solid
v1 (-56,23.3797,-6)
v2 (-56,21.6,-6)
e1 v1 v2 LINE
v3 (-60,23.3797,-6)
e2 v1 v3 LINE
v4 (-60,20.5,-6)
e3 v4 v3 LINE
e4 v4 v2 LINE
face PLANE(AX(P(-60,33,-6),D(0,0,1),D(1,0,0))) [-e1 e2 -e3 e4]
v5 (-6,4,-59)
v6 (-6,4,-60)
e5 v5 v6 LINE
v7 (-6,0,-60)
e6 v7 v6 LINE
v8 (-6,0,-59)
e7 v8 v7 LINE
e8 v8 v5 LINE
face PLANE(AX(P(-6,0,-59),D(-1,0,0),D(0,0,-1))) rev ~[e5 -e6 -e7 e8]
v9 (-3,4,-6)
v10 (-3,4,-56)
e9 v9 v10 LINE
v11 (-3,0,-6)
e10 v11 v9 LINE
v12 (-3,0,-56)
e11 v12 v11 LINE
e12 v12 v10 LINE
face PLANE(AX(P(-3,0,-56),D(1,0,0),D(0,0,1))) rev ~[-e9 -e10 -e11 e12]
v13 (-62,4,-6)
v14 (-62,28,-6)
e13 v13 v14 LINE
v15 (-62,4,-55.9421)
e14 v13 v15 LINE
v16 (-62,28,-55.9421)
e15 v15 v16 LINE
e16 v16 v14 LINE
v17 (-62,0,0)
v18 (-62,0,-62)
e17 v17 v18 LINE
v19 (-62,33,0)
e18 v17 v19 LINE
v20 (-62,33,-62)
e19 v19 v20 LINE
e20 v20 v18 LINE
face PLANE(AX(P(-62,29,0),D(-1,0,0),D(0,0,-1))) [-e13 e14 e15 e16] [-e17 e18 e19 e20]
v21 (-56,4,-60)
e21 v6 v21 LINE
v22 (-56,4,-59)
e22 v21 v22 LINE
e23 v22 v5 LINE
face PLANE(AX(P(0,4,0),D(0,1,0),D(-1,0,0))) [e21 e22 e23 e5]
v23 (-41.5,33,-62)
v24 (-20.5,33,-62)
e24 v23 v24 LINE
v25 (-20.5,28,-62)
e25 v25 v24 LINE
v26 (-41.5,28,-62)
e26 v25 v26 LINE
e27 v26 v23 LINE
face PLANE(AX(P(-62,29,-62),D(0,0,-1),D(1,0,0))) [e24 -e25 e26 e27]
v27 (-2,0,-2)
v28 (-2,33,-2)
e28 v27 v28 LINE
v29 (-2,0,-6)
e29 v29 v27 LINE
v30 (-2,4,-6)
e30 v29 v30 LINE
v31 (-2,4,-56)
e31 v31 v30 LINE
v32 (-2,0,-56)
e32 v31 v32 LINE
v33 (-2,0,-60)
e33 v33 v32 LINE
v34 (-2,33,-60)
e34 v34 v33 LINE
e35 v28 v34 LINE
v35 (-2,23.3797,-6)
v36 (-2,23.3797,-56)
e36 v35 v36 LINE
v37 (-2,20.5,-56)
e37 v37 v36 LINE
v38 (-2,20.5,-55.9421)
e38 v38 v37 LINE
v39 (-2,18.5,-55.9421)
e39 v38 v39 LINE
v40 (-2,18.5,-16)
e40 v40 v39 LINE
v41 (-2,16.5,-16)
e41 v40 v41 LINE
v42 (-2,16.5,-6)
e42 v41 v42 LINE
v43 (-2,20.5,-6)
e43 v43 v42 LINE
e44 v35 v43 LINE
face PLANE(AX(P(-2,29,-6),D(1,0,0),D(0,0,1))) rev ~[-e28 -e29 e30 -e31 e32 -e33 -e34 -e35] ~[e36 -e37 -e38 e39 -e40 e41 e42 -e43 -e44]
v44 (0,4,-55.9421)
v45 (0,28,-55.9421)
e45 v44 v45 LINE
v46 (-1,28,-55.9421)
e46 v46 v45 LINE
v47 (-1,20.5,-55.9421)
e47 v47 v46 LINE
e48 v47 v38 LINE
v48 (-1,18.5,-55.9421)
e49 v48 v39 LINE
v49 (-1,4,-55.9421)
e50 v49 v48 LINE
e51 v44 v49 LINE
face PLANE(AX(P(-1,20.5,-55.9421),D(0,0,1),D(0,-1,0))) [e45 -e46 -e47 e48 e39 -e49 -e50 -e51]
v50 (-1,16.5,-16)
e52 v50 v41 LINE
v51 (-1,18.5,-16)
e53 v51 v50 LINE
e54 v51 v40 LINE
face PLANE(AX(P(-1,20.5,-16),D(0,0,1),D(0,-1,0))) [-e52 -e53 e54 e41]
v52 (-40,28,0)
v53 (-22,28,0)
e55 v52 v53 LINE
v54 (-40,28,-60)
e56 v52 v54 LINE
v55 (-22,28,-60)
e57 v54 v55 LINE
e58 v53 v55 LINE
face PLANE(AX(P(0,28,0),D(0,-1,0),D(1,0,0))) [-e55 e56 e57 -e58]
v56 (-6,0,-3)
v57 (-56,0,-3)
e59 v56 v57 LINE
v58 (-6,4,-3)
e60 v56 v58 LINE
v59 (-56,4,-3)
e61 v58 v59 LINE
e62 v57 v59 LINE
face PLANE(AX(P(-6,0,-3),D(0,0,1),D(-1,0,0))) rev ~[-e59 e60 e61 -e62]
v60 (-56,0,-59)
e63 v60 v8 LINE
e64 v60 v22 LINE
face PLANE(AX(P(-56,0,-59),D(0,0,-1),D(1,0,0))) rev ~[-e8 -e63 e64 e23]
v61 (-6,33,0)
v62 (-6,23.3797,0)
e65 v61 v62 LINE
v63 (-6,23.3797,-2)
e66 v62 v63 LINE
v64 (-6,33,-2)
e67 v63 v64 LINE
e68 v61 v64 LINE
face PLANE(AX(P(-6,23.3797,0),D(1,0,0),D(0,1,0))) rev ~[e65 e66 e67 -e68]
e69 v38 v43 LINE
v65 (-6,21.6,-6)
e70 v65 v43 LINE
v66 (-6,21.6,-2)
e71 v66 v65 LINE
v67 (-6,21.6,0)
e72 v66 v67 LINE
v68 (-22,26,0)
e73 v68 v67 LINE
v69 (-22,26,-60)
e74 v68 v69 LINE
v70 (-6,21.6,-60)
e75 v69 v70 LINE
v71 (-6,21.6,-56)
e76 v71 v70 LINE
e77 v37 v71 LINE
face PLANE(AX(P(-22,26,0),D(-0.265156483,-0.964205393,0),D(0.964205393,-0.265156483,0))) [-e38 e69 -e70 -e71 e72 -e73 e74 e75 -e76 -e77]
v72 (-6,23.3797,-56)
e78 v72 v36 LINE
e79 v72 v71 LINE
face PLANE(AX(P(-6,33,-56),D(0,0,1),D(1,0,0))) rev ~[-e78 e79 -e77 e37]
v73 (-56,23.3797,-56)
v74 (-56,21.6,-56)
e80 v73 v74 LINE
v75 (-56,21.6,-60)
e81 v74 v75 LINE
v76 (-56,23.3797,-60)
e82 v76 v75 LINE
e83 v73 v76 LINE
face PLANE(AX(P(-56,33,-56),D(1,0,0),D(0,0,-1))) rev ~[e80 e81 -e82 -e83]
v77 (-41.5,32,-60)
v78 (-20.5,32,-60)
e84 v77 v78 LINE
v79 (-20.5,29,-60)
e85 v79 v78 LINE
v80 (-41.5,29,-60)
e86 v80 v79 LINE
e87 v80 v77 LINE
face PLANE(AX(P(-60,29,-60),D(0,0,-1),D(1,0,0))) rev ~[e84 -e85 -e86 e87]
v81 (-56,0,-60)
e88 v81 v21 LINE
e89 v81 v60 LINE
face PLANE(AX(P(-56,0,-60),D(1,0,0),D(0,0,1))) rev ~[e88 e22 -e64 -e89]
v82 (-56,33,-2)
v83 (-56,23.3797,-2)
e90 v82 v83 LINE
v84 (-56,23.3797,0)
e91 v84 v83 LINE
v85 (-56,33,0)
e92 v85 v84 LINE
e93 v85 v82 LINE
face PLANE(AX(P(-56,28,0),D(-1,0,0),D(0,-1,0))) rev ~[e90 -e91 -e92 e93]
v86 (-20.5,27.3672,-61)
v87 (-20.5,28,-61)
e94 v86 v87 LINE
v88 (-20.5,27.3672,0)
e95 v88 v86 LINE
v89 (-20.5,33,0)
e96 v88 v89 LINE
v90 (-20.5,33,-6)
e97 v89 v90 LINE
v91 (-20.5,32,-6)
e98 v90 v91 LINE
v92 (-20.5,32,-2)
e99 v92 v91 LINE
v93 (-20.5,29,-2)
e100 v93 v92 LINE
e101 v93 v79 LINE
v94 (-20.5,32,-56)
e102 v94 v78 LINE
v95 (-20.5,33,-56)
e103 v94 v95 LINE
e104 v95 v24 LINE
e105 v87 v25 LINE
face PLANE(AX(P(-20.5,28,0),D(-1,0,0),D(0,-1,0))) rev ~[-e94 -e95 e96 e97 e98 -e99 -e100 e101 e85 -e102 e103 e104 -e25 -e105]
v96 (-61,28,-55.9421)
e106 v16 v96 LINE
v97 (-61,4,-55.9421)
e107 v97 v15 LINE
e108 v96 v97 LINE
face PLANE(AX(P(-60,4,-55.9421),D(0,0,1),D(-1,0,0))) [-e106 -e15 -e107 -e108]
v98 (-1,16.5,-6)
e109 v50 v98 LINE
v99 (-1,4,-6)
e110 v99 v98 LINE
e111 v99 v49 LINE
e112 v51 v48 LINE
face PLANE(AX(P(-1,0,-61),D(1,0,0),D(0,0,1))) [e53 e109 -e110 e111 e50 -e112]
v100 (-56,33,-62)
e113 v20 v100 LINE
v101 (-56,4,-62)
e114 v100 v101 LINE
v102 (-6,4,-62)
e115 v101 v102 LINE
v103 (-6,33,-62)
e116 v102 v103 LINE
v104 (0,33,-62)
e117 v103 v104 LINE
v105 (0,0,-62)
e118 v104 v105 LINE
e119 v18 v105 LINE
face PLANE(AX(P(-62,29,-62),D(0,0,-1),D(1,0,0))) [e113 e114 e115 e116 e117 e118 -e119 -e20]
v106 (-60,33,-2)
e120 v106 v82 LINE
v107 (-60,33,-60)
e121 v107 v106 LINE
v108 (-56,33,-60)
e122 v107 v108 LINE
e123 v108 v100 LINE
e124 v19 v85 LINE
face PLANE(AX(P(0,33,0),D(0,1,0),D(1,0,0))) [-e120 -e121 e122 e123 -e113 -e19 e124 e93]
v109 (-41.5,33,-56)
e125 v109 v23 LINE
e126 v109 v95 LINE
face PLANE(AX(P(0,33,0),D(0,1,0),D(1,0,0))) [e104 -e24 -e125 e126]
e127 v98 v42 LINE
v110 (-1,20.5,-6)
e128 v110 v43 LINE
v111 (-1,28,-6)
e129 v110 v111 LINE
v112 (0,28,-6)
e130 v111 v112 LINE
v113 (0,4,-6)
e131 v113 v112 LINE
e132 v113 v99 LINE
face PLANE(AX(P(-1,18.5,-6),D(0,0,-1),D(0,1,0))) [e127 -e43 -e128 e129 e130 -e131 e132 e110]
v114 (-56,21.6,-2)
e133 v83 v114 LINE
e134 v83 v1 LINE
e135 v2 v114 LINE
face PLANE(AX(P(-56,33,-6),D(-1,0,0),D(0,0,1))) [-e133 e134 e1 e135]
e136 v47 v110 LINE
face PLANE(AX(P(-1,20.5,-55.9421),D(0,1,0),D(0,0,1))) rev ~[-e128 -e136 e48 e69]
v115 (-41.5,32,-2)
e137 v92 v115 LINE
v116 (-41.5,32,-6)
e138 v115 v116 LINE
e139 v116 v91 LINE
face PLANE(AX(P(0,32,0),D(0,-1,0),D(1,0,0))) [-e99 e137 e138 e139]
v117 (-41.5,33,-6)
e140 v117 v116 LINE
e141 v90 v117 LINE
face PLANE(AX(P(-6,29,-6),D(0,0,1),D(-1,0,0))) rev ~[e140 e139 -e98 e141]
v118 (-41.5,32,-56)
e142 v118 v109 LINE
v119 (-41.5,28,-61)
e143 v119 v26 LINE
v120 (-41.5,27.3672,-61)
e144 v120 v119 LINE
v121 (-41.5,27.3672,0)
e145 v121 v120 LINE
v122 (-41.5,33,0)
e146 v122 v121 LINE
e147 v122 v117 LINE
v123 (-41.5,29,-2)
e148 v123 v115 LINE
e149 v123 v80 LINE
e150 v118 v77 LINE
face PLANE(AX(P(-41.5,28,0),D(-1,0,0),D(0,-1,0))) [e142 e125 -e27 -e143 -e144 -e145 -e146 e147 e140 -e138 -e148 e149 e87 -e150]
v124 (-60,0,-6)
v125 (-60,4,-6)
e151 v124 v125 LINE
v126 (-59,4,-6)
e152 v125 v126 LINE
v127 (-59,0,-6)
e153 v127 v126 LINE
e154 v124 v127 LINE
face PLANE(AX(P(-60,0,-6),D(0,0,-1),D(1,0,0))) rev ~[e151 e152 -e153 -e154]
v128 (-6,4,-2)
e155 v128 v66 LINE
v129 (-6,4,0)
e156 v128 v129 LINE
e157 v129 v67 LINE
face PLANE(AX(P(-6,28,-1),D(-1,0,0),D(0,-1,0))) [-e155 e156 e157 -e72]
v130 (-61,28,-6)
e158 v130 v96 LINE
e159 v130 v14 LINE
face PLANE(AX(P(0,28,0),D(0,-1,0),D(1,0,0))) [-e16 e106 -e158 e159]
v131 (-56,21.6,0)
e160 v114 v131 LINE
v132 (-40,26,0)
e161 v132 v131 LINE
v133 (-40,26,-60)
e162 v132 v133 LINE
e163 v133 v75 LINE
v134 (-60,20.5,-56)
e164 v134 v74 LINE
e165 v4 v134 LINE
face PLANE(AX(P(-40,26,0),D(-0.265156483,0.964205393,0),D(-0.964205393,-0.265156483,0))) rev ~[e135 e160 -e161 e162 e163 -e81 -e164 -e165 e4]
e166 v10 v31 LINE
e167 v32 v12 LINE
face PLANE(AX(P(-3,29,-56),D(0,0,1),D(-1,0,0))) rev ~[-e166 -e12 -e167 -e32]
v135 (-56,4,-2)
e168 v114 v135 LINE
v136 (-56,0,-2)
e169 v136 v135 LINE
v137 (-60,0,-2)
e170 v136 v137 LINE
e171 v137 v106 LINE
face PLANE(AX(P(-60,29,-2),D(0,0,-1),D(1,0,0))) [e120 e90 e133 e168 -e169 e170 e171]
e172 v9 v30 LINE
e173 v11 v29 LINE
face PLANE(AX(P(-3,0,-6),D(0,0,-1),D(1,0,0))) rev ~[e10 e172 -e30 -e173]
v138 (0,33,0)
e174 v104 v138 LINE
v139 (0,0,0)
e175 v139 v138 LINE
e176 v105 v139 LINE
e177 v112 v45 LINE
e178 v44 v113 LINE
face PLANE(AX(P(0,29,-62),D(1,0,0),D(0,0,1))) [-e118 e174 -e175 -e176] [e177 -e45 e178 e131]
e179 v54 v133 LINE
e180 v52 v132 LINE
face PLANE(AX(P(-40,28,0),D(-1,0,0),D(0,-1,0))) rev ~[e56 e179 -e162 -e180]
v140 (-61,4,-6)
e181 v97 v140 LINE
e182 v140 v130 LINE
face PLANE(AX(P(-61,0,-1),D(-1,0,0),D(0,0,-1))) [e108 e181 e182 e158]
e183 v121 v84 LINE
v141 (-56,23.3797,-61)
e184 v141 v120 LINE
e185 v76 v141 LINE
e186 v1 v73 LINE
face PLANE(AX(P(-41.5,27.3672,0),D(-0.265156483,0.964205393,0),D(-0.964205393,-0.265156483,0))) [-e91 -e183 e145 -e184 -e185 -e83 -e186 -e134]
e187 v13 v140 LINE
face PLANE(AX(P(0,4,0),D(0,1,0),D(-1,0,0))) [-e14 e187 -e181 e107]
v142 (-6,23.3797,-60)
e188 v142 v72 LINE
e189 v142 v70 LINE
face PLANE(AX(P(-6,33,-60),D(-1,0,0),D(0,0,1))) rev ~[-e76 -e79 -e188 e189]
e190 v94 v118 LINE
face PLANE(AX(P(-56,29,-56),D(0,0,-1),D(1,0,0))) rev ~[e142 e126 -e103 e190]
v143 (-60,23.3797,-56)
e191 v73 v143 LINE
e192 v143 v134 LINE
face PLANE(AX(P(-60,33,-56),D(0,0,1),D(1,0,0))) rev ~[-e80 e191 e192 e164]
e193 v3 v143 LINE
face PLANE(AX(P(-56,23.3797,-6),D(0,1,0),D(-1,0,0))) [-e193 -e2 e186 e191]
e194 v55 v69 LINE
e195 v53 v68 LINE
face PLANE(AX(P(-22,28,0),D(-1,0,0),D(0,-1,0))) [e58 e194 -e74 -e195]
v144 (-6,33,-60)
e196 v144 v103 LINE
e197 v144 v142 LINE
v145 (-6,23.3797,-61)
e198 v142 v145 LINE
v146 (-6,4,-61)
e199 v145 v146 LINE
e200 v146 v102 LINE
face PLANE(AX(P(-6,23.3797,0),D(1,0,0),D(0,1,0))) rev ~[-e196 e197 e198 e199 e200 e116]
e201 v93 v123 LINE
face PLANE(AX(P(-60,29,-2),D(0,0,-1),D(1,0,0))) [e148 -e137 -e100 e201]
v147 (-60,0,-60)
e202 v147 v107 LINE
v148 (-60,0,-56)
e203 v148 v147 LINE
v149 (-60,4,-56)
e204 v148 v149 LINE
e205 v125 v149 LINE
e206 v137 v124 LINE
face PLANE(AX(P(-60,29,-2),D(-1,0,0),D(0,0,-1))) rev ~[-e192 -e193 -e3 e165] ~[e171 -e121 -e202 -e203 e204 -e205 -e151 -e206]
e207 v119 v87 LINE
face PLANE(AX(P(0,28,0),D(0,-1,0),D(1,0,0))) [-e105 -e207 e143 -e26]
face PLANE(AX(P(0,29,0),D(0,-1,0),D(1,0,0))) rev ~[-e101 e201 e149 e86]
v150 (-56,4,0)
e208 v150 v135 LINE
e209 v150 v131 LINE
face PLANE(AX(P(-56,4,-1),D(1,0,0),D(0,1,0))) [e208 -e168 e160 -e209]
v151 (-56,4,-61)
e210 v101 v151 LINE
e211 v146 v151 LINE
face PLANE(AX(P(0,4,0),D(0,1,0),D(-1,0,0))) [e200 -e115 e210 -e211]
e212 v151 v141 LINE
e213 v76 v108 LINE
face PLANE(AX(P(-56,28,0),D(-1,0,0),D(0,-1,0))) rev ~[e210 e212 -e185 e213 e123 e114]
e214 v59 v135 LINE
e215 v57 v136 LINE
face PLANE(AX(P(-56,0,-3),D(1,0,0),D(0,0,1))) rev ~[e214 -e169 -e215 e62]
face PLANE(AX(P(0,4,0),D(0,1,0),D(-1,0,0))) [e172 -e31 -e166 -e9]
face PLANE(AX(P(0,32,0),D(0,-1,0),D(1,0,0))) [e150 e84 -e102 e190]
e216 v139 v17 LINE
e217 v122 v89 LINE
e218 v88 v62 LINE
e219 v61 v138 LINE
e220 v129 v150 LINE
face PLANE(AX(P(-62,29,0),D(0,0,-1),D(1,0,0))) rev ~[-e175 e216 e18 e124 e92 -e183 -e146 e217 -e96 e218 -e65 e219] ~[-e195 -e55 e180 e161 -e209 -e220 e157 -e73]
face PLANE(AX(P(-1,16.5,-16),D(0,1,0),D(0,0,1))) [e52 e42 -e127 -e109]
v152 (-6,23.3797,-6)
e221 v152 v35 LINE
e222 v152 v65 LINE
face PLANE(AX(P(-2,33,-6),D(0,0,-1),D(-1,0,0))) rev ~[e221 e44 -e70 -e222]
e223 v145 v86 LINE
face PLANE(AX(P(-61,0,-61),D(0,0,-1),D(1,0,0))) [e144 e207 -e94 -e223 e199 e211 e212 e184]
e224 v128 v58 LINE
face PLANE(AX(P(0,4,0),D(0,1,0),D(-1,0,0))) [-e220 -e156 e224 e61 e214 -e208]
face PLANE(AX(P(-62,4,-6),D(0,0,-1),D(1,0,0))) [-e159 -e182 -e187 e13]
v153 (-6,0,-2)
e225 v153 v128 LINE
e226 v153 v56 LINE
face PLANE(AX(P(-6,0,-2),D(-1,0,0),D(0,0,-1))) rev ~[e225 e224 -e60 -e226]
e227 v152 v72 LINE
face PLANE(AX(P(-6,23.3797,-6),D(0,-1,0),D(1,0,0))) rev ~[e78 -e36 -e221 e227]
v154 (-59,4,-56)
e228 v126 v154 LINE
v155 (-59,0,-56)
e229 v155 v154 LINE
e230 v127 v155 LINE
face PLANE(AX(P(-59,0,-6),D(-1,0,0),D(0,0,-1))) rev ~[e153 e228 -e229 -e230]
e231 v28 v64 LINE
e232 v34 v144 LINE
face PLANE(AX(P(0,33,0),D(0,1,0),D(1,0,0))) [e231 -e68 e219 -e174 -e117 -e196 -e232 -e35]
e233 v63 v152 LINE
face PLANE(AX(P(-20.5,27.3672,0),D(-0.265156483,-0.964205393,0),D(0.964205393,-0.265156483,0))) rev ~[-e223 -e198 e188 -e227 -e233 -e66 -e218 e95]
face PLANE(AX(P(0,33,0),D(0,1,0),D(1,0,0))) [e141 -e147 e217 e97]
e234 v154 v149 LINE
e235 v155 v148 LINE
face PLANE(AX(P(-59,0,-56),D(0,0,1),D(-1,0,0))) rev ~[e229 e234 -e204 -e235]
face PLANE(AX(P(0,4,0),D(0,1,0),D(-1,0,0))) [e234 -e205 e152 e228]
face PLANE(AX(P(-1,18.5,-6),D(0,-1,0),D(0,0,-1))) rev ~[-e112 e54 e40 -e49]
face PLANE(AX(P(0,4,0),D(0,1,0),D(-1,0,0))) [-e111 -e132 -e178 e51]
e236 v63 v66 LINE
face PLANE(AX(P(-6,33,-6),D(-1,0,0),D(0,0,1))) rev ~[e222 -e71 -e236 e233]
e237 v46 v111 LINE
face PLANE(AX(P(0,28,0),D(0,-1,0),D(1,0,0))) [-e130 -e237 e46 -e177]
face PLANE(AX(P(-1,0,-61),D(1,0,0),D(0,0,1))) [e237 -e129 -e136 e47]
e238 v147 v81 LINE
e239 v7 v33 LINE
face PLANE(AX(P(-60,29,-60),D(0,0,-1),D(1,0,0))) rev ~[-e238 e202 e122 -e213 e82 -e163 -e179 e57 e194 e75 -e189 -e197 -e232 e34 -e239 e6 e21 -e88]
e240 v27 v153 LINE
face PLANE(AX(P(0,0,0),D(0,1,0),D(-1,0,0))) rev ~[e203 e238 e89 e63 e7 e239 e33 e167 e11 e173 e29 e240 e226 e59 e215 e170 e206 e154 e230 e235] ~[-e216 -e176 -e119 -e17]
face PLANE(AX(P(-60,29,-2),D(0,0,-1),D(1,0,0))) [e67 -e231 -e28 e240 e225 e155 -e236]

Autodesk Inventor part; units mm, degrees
ref_plane "YZ Plane" through (0, 0, 0) normal (1, 0, 0) x (0, 1, 0)
ref_plane "XZ Plane" through (0, 0, 0) normal (0, 1, 0) x (-1, 0, 0)
ref_plane "XY Plane" through (0, 0, 0) normal (0, 0, 1) x (1, 0, 0)
sketch "Skizze1" plane through (0, 0, 0) normal (0, 1, 0) x (-1, 0, 0)
  line L0 (0, 0) -> (62, 0)
  line L1 (62, 0) -> (62, -62)
  line L2 (62, -62) -> (0, -62)
  line L3 (0, -62) -> (0, 0)
  line L4 (2, -2) -> (6, -2)
  line L5 (6, -2) -> (6, -6)
  line L6 (6, -6) -> (2, -6)
  line L7 (2, -6) -> (2, -2)
  line L8 (2, -56) -> (6, -56)
  line L9 (6, -56) -> (6, -60)
  line L10 (6, -60) -> (2, -60)
  line L11 (2, -60) -> (2, -56)
  line L12 (56, -2) -> (60, -2)
  line L13 (60, -2) -> (60, -6)
  line L14 (60, -6) -> (56, -6)
  line L15 (56, -6) -> (56, -2)
  line L16 (56, -56) -> (60, -56)
  line L17 (60, -56) -> (60, -60)
  line L18 (60, -60) -> (56, -60)
  line L19 (56, -60) -> (56, -56)
  line L20 (3, -3) -> (59, -3)
  line L21 (59, -3) -> (59, -59)
  line L22 (59, -59) -> (3, -59)
  line L23 (3, -59) -> (3, -3)
  point P0 (2, -58)
  point P1 (6, -3)
  point P2 (56, -3)
  point P3 (59, -6)
  point P4 (59, -56)
  point P5 (56, -59)
  point P6 (6, -59)
  point P7 (3, -56)
  point P8 (3, -6)
  dimension "d0" = 62
  dimension "d1" = 62
  dimension "d2" = 4
  dimension "d3" = 4
  dimension "d4" = 4
  dimension "d5" = 4
  dimension "d6" = 4
  dimension "d7" = 50
  dimension "d8" = 50
  dimension "d9" = 2
  dimension "d10" = 2
  dimension "d11" = 2
  dimension "d12" = 56
  dimension "d13" = 56
extrude "Extrusion1" add sketch "Skizze1" along normal blind 4
sketch "Skizze2" plane through (0, 4, 0) normal (0, 1, 0) x (1, 0, 0)
  line L0 (-2, 2) -> (-6, 2) projected
  line L1 (-3, 6) -> (-2, 6) projected
  line L2 (-6, 2) -> (-2, 2)
  line L3 (-2, 2) -> (-2, 6)
  line L4 (-2, 6) -> (-6, 6)
  line L5 (-6, 6) -> (-6, 2)
  line L6 (-62, 0) -> (0, 0) projected
  line L7 (0, 0) -> (0, 62) projected
  line L8 (-6, 0) -> (0, 0)
  line L9 (0, 0) -> (0, 6)
  line L10 (0, 6) -> (-6, 6)
  line L11 (-6, 6) -> (-6, 0)
  line L12 (0, 62) -> (-62, 62) projected
  line L13 (0, 55.9421) -> (-6, 55.9421)
  line L14 (-6, 55.9421) -> (-6, 62)
  line L15 (-6, 62) -> (0, 62)
  line L16 (0, 62) -> (0, 55.9421)
  line L17 (-6, 59) -> (-6, 60) projected
  line L18 (-6, 60) -> (-2, 60)
  line L19 (-2, 60) -> (-2, 56)
  line L20 (-2, 56) -> (-6, 56)
  line L21 (-6, 56) -> (-6, 60)
  line L22 (-62, 62) -> (-56, 62)
  line L23 (-56, 62) -> (-56, 55.9421)
  line L24 (-56, 55.9421) -> (-62, 55.9421)
  line L25 (-62, 55.9421) -> (-62, 62)
  line L26 (-60, 60) -> (-56, 60) projected
  line L27 (-60, 60) -> (-56, 60)
  line L28 (-56, 60) -> (-56, 55.9421)
  line L29 (-56, 55.9421) -> (-60, 55.9421)
  line L30 (-60, 55.9421) -> (-60, 60)
  line L31 (-62, 62) -> (-62, 0) projected
  line L32 (-62, 6) -> (-56, 6)
  line L33 (-56, 6) -> (-56, 0)
  line L34 (-56, 0) -> (-62, 0)
  line L35 (-62, 0) -> (-62, 6)
  line L36 (-56, 2) -> (-60, 2)
  line L37 (-60, 2) -> (-60, 6)
  line L38 (-60, 6) -> (-56, 6)
  line L39 (-56, 6) -> (-56, 2)
extrude "Extrusion2" add sketch "Skizze2" along normal blind 25 contours L3 L10 L7 L6 L11 L0 | L6 L31 L32 L37 L36 L33 | L13 L14 L20 L19 L18 L12 L7 | L25 L12 L23 L26 L30 L24
sketch "Skizze3" plane through (0, 29, 0) normal (0, 1, 0) x (1, 0, 0)
  line L0 (-62, 0) -> (0, 0) projected
  line L1 (0, 0) -> (-62, 0)
  line L2 (-62, 0) -> (-62, 62)
  line L3 (-62, 62) -> (0, 62)
  line L4 (0, 62) -> (0, 0)
  line L5 (-6, 6) -> (-56, 6)
  line L6 (-56, 6) -> (-56, 56)
  line L7 (-56, 56) -> (-6, 56)
  line L8 (-6, 56) -> (-6, 6)
  line L9 (-60, 2) -> (-60, 6) projected
  line L10 (-56, 6) -> (-60, 6)
  line L11 (-60, 6) -> (-60, 2)
  line L12 (-60, 2) -> (-56, 2)
  line L13 (-56, 2) -> (-56, 6)
  line L14 (-60, 60) -> (-56, 60) projected
  line L15 (-56, 56) -> (-60, 56)
  line L16 (-60, 56) -> (-60, 60)
  line L17 (-60, 60) -> (-56, 60)
  line L18 (-56, 60) -> (-56, 56)
  line L19 (-3, 56) -> (-6, 56) projected
  line L20 (-2, 60) -> (-2, 56) projected
  line L21 (-6, 56) -> (-2, 56)
  line L22 (-2, 56) -> (-2, 60)
  line L23 (-2, 60) -> (-6, 60)
  line L24 (-6, 60) -> (-6, 56)
  line L25 (-2, 2) -> (-6, 2) projected
  line L26 (-6, 6) -> (-2, 6)
  line L27 (-2, 6) -> (-2, 2)
  line L28 (-2, 2) -> (-6, 2)
  line L29 (-6, 2) -> (-6, 6)
  dimension "d18" = 50
  dimension "d19" = 50
extrude "Extrusion3" add sketch "Skizze3" along normal blind 4
sketch "Skizze4" plane through (0, 29, 0) normal (0, -1, 0) x (1, 0, 0)
  line L0 (-6, -6) -> (-56, -6) projected
  line L1 (-6, -6) -> (-2, -6)
  line L2 (-2, -6) -> (-2, -56)
  line L3 (-2, -56) -> (-6, -56)
  line L4 (-6, -56) -> (-6, -6)
  line L5 (-6, -56) -> (-56, -56)
  line L6 (-56, -56) -> (-56, -60)
  line L7 (-56, -60) -> (-6, -60)
  line L8 (-6, -60) -> (-6, -56)
  line L9 (-56, -6) -> (-56, -2) projected
  line L10 (-56, -6) -> (-6, -6)
  line L11 (-6, -6) -> (-6, -2)
  line L12 (-6, -2) -> (-56, -2)
  line L13 (-56, -2) -> (-56, -6)
  line L14 (-60, -6) -> (-56, -6) projected
  line L15 (-56, -6) -> (-60, -6)
  line L16 (-60, -6) -> (-60, -56)
  line L17 (-60, -56) -> (-56, -56)
  line L18 (-56, -56) -> (-56, -6)
  point P0 (0, 0)
  dimension "d22" = 4
  dimension "d23" = 50
  dimension "d24" = 50
  dimension "d25" = 4
  dimension "d26" = 50
  dimension "d27" = 4
  dimension "d28" = 4
  dimension "d29" = 50
extrude "Extrusion4" cut sketch "Skizze4" against normal blind 2 contours L1 L2 L3 L4 | L0 L9 L12 L11 | L18 L17 L16 L14 | L8 L7 L6 L5
sketch "Skizze5" plane through (0, 31, 0) normal (0, -1, 0) x (1, 0, 0)
  line L0 (-59, -59) -> (-3, -59)
  line L1 (-3, -59) -> (-3, -3)
  line L2 (-59, -3) -> (-59, -59)
  line L3 (-57.5, -4.5) -> (-57.5, -57.5)
  line L4 (-57.5, -57.5) -> (-4.5, -57.5)
  line L5 (-4.5, -57.5) -> (-4.5, -4.5)
  line L6 (-62, 0) -> (0, 0) projected
  line L7 (0, 0) -> (0, -62) projected
  line L8 (-60, -60) -> (-56, -60) projected
  line L9 (-2, -6) -> (-2, -2) projected
  line L10 (-60, -60) -> (-2, -60)
  line L11 (-2, -60) -> (-2, -2)
  line L12 (-2, -2) -> (-60, -2)
  line L13 (-60, -2) -> (-60, -60)
  dimension "d32" = 56
  dimension "d33" = 56
  dimension "d34" = 53
  dimension "d35" = 53
  dimension "d36" = 1.5
  dimension "d39" = 3
extrude "Extrusion5" cut sketch "Skizze5" against normal blind 1
sketch "Skizze6" plane through (0, 32, 0) normal (0, -1, 0) x (1, 0, 0)
  line L0 (-60, -6) -> (-56, -6) projected
  line L1 (-56, -6) -> (-52, -6)
  line L2 (-6, -6) -> (-56, -6) projected
  line L3 (-52, -6) -> (-56, -10)
  line L4 (-56, -6) -> (-56, -56) projected
  line L5 (-56, -10) -> (-56, -6)
  line L6 (-6, -56) -> (-6, -6) projected
  line L7 (-6, -6) -> (-10, -6)
  line L8 (-6, -6) -> (-2, -6) construction
  line L9 (-10, -6) -> (-6, -10)
  line L10 (-6, -10) -> (-6, -6)
  line L11 (-6, -56) -> (-6, -60) projected
  line L12 (-6, -56) -> (-6, -52)
  line L13 (-6, -52) -> (-10, -56)
  line L14 (-56, -56) -> (-6, -56) projected
  line L15 (-56, -56) -> (-52, -56)
  line L16 (-56, -52) -> (-52, -56)
  line L17 (-56, -52) -> (-56, -56)
  point P0 (0, 0)
  dimension "d42" = 4
  dimension "d43" = 45
  dimension "d44" = 4
  dimension "d45" = 180
extrude "Extrusion6" add sketch "Skizze6" against normal blind 1 contours L1 L3 L4 | L2 L6 L9 | L16 L14 L4 | L6 L14 L13
sketch "Skizze7" plane through (-6, 4, -55.9421) normal (0, 0, 1) x (1, 0, 0)
  line L0 (3, 0) -> (0, 0) projected
  line L1 (0, 0) -> (4, 0)
  line L2 (4, 0) -> (4, 25)
  line L3 (4, 25) -> (0, 25)
  line L4 (0, 25) -> (0, 0)
  point P0 (6, -4)
extrude "Extrusion7" cut sketch "Skizze7" against normal blind 1
sketch "Skizze10" plane through (0, 29, 0) normal (0, -1, 0) x (1, 0, 0)
  line L0 (-2, -6) -> (-2, -55.9421) projected
  line L1 (-6, -6) -> (-2, -6) projected
  line L2 (-2, -6) -> (-6, -6)
  line L3 (-6, -2) -> (-6, -6) projected
  line L4 (-6, -6) -> (-6, -2)
  line L5 (-56, -3) -> (-56, -2) projected
  line L6 (-6, -2) -> (-56, -2)
  line L7 (-56, -6) -> (-56, -2) projected
  line L8 (-56, -2) -> (-56, -6)
  line L9 (-60, -6) -> (-56, -6) projected
  line L10 (-56, -6) -> (-60, -6)
  line L11 (-60, -56) -> (-60, -60) projected
  line L12 (-60, -6) -> (-60, -56)
  line L13 (-56, -56) -> (-60, -56) projected
  line L14 (-60, -56) -> (-56, -56)
  line L15 (-56, -60) -> (-56, -56) projected
  line L16 (-56, -56) -> (-56, -60)
  line L17 (-6, -59) -> (-6, -60) projected
  line L18 (-56, -60) -> (-6, -60)
  line L19 (-6, -56) -> (-6, -60) projected
  line L20 (-6, -60) -> (-6, -56)
  line L21 (-3, -56) -> (-2, -56) projected
  line L22 (-6, -56) -> (-2, -56)
  line L23 (-2, -56) -> (-2, -6)
  line L24 (0, -6) -> (0, -55.9421) projected
  line L25 (-2, -6) -> (0, -6)
  line L26 (0, -6) -> (0, -56)
  line L27 (0, -56) -> (-2, -56)
  line L28 (-6, -62) -> (-56, -62) projected
  line L29 (-6, -60) -> (-6, -62)
  line L30 (-6, -62) -> (-56, -62)
  line L31 (-56, -62) -> (-56, -60)
  line L32 (-56, 0) -> (-6, 0) projected
  line L33 (-56, -2) -> (-56, 0)
  line L34 (-56, 0) -> (-6, 0)
  line L35 (-6, -2) -> (-6, 0) projected
  line L36 (-6, 0) -> (-6, -2)
  line L37 (-60, -6) -> (-62, -6)
  line L38 (-62, -62) -> (-62, 0) projected
  line L39 (-62, -56) -> (-62, -6)
  line L40 (-59, -6) -> (-59, -56) projected
  line L41 (-62, -56) -> (-60, -56)
  point P0 (0, 0)
extrude "Extrusion8" add sketch "Skizze10" along normal blind 1
sketch "Skizze11" plane through (0, 0, 0) normal (0, -1, 0) x (1, 0, 0)
  line L0 (-60, -60) -> (-56, -60) projected
  line L1 (-2, -6) -> (-2, -2) projected
  line L2 (-60, -60) -> (-2, -60)
  line L3 (-2, -60) -> (-2, -2)
  line L4 (-2, -2) -> (-60, -2)
  line L5 (-60, -2) -> (-60, -60)
  line L6 (-1, -1) -> (-61, -1)
  line L7 (-61, -1) -> (-61, -61)
  line L8 (-61, -61) -> (-1, -61)
  line L9 (-1, -61) -> (-1, -1)
  point P0 (0, 0)
  dimension "d52" = 60
  dimension "d53" = 60
extrude "Extrusion9" add sketch "Skizze11" against normal blind 28
sketch "Skizze13" plane through (-56, 28, -1) normal (0, 0, 1) x (1, 0, 0)
  line L0 (0, -24) -> (50, -24) projected
  line L1 (0, 0) -> (-4, 0) projected
  line L2 (50, -24) -> (0, -24)
  line L3 (0, -24) -> (0, 0)
  line L4 (0, 0) -> (50, 0)
  line L5 (50, 0) -> (50, -24)
  point P0 (56, -28)
extrude "Extrusion10" cut sketch "Skizze13" against normal blind 1
sketch "Skizze16" plane through (-1, 4, -55.9421) normal (1, 0, 0) x (0, 0, -1)
  line L0 (0, 24) -> (0, 0) projected
  line L1 (-49.9421, 0) -> (-49.9421, 24) projected
  line L2 (0, 16.5) -> (-49.9421, 16.5)
  line L3 (-49.9421, 16.5) -> (-49.9421, 14.5)
  line L4 (-49.9421, 14.5) -> (0, 14.5)
  line L5 (0, 14.5) -> (0, 16.5)
  point P0 (-55.9421, -4)
  point P1 (-49.9421, 16.5)
  dimension "d67" = 2
extrude "Extrusion13" cut sketch "Skizze16" against normal blind 5
sketch "Skizze18" plane through (-62, 0, 0) normal (0, 0, 1) x (1, 0, 0)
  line L0 (2, 28) -> (6, 28) projected
  line L1 (2, 28) -> (22, 28)
  line L2 (2, 28) -> (22, 28) construction
  line L3 (22, 28) -> (22, 26)
  line L4 (56, 28) -> (60, 28) projected
  line L5 (60, 28) -> (40, 28)
  line L6 (6, 28) -> (56, 28) projected
  line L7 (40, 28) -> (40, 26)
  line L8 (61, 20.5) -> (60, 20.5) projected
  line L9 (40, 26) -> (60, 20.5)
  line L10 (60, 20.5) -> (60, 28)
  line L11 (22, 26) -> (2, 20.5)
  line L12 (2, 0) -> (2, 33) projected
  line L13 (2, 28) -> (2, 20.5)
  point P0 (62, 0)
  dimension "d71" = 20
  dimension "d72" = 0
  dimension "d73" = 2
  dimension "d74" = 20
extrude "Extrusion14" add sketch "Skizze18" against normal blind 60
sketch "Skizze19" plane through (-62, 0, 0) normal (0, 0, 1) x (1, 0, 0)
  line L0 (56, 23.3797) -> (56, 33)
  line L1 (0, 33) -> (62, 33) projected
  line L2 (56, 33) -> (52, 33) projected
  line L3 (56, 33) -> (41.5, 33)
  line L4 (52, 33) -> (10, 33) projected
  line L5 (56, 33) -> (70.5, 33) construction
  line L6 (41.5, 33) -> (41.5, 27.3672)
  line L7 (56, 28) -> (6, 28) projected
  line L8 (41.5, 27.3672) -> (56, 23.3797)
  line L9 (40, 26) -> (56, 21.6) projected
  line L10 (6, 28) -> (6, 4) projected
  line L11 (6, 23.3797) -> (6, 33)
  line L12 (10, 33) -> (6, 33) projected
  line L13 (6, 33) -> (20.5, 33)
  line L14 (20.5, 33) -> (20.5, 27.3672)
  line L15 (20.5, 27.3672) -> (6, 23.3797)
  point P0 (62, 0)
  dimension "d77" = 14.5
  dimension "d78" = 180
  dimension "d79" = 14.5
extrude "Extrusion15" cut sketch "Skizze19" against normal blind 71.1125 contours L8 L6 L7 L0 | L7 L6 L1 L0 | L14 L15 L10 L7 | L7 L11 L1 L14
sketch "Skizze20" plane through (-1, 4, -6) normal (1, 0, 0) x (0, 0, -1)
  line L0 (0, 16.5) -> (49.9421, 16.5) projected
  line L1 (0, 16.5) -> (10, 16.5)
  line L2 (10, 16.5) -> (10, 12.5)
  line L3 (10, 12.5) -> (0, 12.5)
  line L4 (0, 12.5) -> (0, 16.5)
  point P0 (-6, -4)
  dimension "d82" = 10
  dimension "d83" = 4
extrude "Extrusion16" cut sketch "Skizze20" against normal blind 2
sketch "Skizze21" plane through (0, 33, 0) normal (0, 1, 0) x (1, 0, 0)
  line L0 (-1, 6) -> (-2, 6) projected
  line L1 (-6, 0) -> (-6, 2) projected
  line L2 (-2, 6) -> (-6, 6)
  line L3 (-6, 6) -> (-6, 2)
  line L4 (-6, 2) -> (-2, 2)
  line L5 (-2, 2) -> (-2, 6)
  line L6 (-56, 2) -> (-60, 2)
  line L7 (-60, 2) -> (-60, 6)
  line L8 (-60, 6) -> (-56, 6)
  line L9 (-56, 6) -> (-56, 2)
  line L10 (-60, 56) -> (-60, 60) projected
  line L11 (-60, 60) -> (-56, 60) projected
  line L12 (-60, 56) -> (-56, 56)
  line L13 (-56, 56) -> (-56, 60)
  line L14 (-56, 60) -> (-60, 60)
  line L15 (-60, 60) -> (-60, 56)
  line L16 (-6, 60) -> (-2, 60) projected
  line L17 (-6, 56) -> (-2, 56) projected
  line L18 (-2, 60) -> (-6, 60)
  line L19 (-6, 60) -> (-6, 56)
  line L20 (-6, 56) -> (-2, 56)
  line L21 (-2, 56) -> (-2, 60)
  point P0 (0, 0)
extrude "Extrusion17" cut sketch "Skizze21" against normal blind 20
sketch "Skizze22" plane through (-60, 29, -6) normal (0, 0, 1) x (1, 0, 0)
  line L0 (54, 0) -> (54, -5.6203) projected
  line L1 (58, 3) -> (58, 4) projected
  line L2 (54, -5.6203) -> (58, -5.6203)
  line L3 (58, -5.6203) -> (58, 4)
  line L4 (58, 4) -> (54, 4)
  line L5 (54, 4) -> (54, -5.6203)
  line L6 (4, 0) -> (4, -5.6203) projected
  line L7 (0, -29) -> (0, 4) projected
  line L8 (4, -5.6203) -> (0, -5.6203)
  line L9 (0, -5.6203) -> (0, 4)
  line L10 (0, 4) -> (4, 4)
  line L11 (4, 4) -> (4, -5.6203)
  point P0 (60, -29)
extrude "Extrusion18" cut sketch "Skizze22" against normal blind 51.4375
properties part number "Unterbau V3"
